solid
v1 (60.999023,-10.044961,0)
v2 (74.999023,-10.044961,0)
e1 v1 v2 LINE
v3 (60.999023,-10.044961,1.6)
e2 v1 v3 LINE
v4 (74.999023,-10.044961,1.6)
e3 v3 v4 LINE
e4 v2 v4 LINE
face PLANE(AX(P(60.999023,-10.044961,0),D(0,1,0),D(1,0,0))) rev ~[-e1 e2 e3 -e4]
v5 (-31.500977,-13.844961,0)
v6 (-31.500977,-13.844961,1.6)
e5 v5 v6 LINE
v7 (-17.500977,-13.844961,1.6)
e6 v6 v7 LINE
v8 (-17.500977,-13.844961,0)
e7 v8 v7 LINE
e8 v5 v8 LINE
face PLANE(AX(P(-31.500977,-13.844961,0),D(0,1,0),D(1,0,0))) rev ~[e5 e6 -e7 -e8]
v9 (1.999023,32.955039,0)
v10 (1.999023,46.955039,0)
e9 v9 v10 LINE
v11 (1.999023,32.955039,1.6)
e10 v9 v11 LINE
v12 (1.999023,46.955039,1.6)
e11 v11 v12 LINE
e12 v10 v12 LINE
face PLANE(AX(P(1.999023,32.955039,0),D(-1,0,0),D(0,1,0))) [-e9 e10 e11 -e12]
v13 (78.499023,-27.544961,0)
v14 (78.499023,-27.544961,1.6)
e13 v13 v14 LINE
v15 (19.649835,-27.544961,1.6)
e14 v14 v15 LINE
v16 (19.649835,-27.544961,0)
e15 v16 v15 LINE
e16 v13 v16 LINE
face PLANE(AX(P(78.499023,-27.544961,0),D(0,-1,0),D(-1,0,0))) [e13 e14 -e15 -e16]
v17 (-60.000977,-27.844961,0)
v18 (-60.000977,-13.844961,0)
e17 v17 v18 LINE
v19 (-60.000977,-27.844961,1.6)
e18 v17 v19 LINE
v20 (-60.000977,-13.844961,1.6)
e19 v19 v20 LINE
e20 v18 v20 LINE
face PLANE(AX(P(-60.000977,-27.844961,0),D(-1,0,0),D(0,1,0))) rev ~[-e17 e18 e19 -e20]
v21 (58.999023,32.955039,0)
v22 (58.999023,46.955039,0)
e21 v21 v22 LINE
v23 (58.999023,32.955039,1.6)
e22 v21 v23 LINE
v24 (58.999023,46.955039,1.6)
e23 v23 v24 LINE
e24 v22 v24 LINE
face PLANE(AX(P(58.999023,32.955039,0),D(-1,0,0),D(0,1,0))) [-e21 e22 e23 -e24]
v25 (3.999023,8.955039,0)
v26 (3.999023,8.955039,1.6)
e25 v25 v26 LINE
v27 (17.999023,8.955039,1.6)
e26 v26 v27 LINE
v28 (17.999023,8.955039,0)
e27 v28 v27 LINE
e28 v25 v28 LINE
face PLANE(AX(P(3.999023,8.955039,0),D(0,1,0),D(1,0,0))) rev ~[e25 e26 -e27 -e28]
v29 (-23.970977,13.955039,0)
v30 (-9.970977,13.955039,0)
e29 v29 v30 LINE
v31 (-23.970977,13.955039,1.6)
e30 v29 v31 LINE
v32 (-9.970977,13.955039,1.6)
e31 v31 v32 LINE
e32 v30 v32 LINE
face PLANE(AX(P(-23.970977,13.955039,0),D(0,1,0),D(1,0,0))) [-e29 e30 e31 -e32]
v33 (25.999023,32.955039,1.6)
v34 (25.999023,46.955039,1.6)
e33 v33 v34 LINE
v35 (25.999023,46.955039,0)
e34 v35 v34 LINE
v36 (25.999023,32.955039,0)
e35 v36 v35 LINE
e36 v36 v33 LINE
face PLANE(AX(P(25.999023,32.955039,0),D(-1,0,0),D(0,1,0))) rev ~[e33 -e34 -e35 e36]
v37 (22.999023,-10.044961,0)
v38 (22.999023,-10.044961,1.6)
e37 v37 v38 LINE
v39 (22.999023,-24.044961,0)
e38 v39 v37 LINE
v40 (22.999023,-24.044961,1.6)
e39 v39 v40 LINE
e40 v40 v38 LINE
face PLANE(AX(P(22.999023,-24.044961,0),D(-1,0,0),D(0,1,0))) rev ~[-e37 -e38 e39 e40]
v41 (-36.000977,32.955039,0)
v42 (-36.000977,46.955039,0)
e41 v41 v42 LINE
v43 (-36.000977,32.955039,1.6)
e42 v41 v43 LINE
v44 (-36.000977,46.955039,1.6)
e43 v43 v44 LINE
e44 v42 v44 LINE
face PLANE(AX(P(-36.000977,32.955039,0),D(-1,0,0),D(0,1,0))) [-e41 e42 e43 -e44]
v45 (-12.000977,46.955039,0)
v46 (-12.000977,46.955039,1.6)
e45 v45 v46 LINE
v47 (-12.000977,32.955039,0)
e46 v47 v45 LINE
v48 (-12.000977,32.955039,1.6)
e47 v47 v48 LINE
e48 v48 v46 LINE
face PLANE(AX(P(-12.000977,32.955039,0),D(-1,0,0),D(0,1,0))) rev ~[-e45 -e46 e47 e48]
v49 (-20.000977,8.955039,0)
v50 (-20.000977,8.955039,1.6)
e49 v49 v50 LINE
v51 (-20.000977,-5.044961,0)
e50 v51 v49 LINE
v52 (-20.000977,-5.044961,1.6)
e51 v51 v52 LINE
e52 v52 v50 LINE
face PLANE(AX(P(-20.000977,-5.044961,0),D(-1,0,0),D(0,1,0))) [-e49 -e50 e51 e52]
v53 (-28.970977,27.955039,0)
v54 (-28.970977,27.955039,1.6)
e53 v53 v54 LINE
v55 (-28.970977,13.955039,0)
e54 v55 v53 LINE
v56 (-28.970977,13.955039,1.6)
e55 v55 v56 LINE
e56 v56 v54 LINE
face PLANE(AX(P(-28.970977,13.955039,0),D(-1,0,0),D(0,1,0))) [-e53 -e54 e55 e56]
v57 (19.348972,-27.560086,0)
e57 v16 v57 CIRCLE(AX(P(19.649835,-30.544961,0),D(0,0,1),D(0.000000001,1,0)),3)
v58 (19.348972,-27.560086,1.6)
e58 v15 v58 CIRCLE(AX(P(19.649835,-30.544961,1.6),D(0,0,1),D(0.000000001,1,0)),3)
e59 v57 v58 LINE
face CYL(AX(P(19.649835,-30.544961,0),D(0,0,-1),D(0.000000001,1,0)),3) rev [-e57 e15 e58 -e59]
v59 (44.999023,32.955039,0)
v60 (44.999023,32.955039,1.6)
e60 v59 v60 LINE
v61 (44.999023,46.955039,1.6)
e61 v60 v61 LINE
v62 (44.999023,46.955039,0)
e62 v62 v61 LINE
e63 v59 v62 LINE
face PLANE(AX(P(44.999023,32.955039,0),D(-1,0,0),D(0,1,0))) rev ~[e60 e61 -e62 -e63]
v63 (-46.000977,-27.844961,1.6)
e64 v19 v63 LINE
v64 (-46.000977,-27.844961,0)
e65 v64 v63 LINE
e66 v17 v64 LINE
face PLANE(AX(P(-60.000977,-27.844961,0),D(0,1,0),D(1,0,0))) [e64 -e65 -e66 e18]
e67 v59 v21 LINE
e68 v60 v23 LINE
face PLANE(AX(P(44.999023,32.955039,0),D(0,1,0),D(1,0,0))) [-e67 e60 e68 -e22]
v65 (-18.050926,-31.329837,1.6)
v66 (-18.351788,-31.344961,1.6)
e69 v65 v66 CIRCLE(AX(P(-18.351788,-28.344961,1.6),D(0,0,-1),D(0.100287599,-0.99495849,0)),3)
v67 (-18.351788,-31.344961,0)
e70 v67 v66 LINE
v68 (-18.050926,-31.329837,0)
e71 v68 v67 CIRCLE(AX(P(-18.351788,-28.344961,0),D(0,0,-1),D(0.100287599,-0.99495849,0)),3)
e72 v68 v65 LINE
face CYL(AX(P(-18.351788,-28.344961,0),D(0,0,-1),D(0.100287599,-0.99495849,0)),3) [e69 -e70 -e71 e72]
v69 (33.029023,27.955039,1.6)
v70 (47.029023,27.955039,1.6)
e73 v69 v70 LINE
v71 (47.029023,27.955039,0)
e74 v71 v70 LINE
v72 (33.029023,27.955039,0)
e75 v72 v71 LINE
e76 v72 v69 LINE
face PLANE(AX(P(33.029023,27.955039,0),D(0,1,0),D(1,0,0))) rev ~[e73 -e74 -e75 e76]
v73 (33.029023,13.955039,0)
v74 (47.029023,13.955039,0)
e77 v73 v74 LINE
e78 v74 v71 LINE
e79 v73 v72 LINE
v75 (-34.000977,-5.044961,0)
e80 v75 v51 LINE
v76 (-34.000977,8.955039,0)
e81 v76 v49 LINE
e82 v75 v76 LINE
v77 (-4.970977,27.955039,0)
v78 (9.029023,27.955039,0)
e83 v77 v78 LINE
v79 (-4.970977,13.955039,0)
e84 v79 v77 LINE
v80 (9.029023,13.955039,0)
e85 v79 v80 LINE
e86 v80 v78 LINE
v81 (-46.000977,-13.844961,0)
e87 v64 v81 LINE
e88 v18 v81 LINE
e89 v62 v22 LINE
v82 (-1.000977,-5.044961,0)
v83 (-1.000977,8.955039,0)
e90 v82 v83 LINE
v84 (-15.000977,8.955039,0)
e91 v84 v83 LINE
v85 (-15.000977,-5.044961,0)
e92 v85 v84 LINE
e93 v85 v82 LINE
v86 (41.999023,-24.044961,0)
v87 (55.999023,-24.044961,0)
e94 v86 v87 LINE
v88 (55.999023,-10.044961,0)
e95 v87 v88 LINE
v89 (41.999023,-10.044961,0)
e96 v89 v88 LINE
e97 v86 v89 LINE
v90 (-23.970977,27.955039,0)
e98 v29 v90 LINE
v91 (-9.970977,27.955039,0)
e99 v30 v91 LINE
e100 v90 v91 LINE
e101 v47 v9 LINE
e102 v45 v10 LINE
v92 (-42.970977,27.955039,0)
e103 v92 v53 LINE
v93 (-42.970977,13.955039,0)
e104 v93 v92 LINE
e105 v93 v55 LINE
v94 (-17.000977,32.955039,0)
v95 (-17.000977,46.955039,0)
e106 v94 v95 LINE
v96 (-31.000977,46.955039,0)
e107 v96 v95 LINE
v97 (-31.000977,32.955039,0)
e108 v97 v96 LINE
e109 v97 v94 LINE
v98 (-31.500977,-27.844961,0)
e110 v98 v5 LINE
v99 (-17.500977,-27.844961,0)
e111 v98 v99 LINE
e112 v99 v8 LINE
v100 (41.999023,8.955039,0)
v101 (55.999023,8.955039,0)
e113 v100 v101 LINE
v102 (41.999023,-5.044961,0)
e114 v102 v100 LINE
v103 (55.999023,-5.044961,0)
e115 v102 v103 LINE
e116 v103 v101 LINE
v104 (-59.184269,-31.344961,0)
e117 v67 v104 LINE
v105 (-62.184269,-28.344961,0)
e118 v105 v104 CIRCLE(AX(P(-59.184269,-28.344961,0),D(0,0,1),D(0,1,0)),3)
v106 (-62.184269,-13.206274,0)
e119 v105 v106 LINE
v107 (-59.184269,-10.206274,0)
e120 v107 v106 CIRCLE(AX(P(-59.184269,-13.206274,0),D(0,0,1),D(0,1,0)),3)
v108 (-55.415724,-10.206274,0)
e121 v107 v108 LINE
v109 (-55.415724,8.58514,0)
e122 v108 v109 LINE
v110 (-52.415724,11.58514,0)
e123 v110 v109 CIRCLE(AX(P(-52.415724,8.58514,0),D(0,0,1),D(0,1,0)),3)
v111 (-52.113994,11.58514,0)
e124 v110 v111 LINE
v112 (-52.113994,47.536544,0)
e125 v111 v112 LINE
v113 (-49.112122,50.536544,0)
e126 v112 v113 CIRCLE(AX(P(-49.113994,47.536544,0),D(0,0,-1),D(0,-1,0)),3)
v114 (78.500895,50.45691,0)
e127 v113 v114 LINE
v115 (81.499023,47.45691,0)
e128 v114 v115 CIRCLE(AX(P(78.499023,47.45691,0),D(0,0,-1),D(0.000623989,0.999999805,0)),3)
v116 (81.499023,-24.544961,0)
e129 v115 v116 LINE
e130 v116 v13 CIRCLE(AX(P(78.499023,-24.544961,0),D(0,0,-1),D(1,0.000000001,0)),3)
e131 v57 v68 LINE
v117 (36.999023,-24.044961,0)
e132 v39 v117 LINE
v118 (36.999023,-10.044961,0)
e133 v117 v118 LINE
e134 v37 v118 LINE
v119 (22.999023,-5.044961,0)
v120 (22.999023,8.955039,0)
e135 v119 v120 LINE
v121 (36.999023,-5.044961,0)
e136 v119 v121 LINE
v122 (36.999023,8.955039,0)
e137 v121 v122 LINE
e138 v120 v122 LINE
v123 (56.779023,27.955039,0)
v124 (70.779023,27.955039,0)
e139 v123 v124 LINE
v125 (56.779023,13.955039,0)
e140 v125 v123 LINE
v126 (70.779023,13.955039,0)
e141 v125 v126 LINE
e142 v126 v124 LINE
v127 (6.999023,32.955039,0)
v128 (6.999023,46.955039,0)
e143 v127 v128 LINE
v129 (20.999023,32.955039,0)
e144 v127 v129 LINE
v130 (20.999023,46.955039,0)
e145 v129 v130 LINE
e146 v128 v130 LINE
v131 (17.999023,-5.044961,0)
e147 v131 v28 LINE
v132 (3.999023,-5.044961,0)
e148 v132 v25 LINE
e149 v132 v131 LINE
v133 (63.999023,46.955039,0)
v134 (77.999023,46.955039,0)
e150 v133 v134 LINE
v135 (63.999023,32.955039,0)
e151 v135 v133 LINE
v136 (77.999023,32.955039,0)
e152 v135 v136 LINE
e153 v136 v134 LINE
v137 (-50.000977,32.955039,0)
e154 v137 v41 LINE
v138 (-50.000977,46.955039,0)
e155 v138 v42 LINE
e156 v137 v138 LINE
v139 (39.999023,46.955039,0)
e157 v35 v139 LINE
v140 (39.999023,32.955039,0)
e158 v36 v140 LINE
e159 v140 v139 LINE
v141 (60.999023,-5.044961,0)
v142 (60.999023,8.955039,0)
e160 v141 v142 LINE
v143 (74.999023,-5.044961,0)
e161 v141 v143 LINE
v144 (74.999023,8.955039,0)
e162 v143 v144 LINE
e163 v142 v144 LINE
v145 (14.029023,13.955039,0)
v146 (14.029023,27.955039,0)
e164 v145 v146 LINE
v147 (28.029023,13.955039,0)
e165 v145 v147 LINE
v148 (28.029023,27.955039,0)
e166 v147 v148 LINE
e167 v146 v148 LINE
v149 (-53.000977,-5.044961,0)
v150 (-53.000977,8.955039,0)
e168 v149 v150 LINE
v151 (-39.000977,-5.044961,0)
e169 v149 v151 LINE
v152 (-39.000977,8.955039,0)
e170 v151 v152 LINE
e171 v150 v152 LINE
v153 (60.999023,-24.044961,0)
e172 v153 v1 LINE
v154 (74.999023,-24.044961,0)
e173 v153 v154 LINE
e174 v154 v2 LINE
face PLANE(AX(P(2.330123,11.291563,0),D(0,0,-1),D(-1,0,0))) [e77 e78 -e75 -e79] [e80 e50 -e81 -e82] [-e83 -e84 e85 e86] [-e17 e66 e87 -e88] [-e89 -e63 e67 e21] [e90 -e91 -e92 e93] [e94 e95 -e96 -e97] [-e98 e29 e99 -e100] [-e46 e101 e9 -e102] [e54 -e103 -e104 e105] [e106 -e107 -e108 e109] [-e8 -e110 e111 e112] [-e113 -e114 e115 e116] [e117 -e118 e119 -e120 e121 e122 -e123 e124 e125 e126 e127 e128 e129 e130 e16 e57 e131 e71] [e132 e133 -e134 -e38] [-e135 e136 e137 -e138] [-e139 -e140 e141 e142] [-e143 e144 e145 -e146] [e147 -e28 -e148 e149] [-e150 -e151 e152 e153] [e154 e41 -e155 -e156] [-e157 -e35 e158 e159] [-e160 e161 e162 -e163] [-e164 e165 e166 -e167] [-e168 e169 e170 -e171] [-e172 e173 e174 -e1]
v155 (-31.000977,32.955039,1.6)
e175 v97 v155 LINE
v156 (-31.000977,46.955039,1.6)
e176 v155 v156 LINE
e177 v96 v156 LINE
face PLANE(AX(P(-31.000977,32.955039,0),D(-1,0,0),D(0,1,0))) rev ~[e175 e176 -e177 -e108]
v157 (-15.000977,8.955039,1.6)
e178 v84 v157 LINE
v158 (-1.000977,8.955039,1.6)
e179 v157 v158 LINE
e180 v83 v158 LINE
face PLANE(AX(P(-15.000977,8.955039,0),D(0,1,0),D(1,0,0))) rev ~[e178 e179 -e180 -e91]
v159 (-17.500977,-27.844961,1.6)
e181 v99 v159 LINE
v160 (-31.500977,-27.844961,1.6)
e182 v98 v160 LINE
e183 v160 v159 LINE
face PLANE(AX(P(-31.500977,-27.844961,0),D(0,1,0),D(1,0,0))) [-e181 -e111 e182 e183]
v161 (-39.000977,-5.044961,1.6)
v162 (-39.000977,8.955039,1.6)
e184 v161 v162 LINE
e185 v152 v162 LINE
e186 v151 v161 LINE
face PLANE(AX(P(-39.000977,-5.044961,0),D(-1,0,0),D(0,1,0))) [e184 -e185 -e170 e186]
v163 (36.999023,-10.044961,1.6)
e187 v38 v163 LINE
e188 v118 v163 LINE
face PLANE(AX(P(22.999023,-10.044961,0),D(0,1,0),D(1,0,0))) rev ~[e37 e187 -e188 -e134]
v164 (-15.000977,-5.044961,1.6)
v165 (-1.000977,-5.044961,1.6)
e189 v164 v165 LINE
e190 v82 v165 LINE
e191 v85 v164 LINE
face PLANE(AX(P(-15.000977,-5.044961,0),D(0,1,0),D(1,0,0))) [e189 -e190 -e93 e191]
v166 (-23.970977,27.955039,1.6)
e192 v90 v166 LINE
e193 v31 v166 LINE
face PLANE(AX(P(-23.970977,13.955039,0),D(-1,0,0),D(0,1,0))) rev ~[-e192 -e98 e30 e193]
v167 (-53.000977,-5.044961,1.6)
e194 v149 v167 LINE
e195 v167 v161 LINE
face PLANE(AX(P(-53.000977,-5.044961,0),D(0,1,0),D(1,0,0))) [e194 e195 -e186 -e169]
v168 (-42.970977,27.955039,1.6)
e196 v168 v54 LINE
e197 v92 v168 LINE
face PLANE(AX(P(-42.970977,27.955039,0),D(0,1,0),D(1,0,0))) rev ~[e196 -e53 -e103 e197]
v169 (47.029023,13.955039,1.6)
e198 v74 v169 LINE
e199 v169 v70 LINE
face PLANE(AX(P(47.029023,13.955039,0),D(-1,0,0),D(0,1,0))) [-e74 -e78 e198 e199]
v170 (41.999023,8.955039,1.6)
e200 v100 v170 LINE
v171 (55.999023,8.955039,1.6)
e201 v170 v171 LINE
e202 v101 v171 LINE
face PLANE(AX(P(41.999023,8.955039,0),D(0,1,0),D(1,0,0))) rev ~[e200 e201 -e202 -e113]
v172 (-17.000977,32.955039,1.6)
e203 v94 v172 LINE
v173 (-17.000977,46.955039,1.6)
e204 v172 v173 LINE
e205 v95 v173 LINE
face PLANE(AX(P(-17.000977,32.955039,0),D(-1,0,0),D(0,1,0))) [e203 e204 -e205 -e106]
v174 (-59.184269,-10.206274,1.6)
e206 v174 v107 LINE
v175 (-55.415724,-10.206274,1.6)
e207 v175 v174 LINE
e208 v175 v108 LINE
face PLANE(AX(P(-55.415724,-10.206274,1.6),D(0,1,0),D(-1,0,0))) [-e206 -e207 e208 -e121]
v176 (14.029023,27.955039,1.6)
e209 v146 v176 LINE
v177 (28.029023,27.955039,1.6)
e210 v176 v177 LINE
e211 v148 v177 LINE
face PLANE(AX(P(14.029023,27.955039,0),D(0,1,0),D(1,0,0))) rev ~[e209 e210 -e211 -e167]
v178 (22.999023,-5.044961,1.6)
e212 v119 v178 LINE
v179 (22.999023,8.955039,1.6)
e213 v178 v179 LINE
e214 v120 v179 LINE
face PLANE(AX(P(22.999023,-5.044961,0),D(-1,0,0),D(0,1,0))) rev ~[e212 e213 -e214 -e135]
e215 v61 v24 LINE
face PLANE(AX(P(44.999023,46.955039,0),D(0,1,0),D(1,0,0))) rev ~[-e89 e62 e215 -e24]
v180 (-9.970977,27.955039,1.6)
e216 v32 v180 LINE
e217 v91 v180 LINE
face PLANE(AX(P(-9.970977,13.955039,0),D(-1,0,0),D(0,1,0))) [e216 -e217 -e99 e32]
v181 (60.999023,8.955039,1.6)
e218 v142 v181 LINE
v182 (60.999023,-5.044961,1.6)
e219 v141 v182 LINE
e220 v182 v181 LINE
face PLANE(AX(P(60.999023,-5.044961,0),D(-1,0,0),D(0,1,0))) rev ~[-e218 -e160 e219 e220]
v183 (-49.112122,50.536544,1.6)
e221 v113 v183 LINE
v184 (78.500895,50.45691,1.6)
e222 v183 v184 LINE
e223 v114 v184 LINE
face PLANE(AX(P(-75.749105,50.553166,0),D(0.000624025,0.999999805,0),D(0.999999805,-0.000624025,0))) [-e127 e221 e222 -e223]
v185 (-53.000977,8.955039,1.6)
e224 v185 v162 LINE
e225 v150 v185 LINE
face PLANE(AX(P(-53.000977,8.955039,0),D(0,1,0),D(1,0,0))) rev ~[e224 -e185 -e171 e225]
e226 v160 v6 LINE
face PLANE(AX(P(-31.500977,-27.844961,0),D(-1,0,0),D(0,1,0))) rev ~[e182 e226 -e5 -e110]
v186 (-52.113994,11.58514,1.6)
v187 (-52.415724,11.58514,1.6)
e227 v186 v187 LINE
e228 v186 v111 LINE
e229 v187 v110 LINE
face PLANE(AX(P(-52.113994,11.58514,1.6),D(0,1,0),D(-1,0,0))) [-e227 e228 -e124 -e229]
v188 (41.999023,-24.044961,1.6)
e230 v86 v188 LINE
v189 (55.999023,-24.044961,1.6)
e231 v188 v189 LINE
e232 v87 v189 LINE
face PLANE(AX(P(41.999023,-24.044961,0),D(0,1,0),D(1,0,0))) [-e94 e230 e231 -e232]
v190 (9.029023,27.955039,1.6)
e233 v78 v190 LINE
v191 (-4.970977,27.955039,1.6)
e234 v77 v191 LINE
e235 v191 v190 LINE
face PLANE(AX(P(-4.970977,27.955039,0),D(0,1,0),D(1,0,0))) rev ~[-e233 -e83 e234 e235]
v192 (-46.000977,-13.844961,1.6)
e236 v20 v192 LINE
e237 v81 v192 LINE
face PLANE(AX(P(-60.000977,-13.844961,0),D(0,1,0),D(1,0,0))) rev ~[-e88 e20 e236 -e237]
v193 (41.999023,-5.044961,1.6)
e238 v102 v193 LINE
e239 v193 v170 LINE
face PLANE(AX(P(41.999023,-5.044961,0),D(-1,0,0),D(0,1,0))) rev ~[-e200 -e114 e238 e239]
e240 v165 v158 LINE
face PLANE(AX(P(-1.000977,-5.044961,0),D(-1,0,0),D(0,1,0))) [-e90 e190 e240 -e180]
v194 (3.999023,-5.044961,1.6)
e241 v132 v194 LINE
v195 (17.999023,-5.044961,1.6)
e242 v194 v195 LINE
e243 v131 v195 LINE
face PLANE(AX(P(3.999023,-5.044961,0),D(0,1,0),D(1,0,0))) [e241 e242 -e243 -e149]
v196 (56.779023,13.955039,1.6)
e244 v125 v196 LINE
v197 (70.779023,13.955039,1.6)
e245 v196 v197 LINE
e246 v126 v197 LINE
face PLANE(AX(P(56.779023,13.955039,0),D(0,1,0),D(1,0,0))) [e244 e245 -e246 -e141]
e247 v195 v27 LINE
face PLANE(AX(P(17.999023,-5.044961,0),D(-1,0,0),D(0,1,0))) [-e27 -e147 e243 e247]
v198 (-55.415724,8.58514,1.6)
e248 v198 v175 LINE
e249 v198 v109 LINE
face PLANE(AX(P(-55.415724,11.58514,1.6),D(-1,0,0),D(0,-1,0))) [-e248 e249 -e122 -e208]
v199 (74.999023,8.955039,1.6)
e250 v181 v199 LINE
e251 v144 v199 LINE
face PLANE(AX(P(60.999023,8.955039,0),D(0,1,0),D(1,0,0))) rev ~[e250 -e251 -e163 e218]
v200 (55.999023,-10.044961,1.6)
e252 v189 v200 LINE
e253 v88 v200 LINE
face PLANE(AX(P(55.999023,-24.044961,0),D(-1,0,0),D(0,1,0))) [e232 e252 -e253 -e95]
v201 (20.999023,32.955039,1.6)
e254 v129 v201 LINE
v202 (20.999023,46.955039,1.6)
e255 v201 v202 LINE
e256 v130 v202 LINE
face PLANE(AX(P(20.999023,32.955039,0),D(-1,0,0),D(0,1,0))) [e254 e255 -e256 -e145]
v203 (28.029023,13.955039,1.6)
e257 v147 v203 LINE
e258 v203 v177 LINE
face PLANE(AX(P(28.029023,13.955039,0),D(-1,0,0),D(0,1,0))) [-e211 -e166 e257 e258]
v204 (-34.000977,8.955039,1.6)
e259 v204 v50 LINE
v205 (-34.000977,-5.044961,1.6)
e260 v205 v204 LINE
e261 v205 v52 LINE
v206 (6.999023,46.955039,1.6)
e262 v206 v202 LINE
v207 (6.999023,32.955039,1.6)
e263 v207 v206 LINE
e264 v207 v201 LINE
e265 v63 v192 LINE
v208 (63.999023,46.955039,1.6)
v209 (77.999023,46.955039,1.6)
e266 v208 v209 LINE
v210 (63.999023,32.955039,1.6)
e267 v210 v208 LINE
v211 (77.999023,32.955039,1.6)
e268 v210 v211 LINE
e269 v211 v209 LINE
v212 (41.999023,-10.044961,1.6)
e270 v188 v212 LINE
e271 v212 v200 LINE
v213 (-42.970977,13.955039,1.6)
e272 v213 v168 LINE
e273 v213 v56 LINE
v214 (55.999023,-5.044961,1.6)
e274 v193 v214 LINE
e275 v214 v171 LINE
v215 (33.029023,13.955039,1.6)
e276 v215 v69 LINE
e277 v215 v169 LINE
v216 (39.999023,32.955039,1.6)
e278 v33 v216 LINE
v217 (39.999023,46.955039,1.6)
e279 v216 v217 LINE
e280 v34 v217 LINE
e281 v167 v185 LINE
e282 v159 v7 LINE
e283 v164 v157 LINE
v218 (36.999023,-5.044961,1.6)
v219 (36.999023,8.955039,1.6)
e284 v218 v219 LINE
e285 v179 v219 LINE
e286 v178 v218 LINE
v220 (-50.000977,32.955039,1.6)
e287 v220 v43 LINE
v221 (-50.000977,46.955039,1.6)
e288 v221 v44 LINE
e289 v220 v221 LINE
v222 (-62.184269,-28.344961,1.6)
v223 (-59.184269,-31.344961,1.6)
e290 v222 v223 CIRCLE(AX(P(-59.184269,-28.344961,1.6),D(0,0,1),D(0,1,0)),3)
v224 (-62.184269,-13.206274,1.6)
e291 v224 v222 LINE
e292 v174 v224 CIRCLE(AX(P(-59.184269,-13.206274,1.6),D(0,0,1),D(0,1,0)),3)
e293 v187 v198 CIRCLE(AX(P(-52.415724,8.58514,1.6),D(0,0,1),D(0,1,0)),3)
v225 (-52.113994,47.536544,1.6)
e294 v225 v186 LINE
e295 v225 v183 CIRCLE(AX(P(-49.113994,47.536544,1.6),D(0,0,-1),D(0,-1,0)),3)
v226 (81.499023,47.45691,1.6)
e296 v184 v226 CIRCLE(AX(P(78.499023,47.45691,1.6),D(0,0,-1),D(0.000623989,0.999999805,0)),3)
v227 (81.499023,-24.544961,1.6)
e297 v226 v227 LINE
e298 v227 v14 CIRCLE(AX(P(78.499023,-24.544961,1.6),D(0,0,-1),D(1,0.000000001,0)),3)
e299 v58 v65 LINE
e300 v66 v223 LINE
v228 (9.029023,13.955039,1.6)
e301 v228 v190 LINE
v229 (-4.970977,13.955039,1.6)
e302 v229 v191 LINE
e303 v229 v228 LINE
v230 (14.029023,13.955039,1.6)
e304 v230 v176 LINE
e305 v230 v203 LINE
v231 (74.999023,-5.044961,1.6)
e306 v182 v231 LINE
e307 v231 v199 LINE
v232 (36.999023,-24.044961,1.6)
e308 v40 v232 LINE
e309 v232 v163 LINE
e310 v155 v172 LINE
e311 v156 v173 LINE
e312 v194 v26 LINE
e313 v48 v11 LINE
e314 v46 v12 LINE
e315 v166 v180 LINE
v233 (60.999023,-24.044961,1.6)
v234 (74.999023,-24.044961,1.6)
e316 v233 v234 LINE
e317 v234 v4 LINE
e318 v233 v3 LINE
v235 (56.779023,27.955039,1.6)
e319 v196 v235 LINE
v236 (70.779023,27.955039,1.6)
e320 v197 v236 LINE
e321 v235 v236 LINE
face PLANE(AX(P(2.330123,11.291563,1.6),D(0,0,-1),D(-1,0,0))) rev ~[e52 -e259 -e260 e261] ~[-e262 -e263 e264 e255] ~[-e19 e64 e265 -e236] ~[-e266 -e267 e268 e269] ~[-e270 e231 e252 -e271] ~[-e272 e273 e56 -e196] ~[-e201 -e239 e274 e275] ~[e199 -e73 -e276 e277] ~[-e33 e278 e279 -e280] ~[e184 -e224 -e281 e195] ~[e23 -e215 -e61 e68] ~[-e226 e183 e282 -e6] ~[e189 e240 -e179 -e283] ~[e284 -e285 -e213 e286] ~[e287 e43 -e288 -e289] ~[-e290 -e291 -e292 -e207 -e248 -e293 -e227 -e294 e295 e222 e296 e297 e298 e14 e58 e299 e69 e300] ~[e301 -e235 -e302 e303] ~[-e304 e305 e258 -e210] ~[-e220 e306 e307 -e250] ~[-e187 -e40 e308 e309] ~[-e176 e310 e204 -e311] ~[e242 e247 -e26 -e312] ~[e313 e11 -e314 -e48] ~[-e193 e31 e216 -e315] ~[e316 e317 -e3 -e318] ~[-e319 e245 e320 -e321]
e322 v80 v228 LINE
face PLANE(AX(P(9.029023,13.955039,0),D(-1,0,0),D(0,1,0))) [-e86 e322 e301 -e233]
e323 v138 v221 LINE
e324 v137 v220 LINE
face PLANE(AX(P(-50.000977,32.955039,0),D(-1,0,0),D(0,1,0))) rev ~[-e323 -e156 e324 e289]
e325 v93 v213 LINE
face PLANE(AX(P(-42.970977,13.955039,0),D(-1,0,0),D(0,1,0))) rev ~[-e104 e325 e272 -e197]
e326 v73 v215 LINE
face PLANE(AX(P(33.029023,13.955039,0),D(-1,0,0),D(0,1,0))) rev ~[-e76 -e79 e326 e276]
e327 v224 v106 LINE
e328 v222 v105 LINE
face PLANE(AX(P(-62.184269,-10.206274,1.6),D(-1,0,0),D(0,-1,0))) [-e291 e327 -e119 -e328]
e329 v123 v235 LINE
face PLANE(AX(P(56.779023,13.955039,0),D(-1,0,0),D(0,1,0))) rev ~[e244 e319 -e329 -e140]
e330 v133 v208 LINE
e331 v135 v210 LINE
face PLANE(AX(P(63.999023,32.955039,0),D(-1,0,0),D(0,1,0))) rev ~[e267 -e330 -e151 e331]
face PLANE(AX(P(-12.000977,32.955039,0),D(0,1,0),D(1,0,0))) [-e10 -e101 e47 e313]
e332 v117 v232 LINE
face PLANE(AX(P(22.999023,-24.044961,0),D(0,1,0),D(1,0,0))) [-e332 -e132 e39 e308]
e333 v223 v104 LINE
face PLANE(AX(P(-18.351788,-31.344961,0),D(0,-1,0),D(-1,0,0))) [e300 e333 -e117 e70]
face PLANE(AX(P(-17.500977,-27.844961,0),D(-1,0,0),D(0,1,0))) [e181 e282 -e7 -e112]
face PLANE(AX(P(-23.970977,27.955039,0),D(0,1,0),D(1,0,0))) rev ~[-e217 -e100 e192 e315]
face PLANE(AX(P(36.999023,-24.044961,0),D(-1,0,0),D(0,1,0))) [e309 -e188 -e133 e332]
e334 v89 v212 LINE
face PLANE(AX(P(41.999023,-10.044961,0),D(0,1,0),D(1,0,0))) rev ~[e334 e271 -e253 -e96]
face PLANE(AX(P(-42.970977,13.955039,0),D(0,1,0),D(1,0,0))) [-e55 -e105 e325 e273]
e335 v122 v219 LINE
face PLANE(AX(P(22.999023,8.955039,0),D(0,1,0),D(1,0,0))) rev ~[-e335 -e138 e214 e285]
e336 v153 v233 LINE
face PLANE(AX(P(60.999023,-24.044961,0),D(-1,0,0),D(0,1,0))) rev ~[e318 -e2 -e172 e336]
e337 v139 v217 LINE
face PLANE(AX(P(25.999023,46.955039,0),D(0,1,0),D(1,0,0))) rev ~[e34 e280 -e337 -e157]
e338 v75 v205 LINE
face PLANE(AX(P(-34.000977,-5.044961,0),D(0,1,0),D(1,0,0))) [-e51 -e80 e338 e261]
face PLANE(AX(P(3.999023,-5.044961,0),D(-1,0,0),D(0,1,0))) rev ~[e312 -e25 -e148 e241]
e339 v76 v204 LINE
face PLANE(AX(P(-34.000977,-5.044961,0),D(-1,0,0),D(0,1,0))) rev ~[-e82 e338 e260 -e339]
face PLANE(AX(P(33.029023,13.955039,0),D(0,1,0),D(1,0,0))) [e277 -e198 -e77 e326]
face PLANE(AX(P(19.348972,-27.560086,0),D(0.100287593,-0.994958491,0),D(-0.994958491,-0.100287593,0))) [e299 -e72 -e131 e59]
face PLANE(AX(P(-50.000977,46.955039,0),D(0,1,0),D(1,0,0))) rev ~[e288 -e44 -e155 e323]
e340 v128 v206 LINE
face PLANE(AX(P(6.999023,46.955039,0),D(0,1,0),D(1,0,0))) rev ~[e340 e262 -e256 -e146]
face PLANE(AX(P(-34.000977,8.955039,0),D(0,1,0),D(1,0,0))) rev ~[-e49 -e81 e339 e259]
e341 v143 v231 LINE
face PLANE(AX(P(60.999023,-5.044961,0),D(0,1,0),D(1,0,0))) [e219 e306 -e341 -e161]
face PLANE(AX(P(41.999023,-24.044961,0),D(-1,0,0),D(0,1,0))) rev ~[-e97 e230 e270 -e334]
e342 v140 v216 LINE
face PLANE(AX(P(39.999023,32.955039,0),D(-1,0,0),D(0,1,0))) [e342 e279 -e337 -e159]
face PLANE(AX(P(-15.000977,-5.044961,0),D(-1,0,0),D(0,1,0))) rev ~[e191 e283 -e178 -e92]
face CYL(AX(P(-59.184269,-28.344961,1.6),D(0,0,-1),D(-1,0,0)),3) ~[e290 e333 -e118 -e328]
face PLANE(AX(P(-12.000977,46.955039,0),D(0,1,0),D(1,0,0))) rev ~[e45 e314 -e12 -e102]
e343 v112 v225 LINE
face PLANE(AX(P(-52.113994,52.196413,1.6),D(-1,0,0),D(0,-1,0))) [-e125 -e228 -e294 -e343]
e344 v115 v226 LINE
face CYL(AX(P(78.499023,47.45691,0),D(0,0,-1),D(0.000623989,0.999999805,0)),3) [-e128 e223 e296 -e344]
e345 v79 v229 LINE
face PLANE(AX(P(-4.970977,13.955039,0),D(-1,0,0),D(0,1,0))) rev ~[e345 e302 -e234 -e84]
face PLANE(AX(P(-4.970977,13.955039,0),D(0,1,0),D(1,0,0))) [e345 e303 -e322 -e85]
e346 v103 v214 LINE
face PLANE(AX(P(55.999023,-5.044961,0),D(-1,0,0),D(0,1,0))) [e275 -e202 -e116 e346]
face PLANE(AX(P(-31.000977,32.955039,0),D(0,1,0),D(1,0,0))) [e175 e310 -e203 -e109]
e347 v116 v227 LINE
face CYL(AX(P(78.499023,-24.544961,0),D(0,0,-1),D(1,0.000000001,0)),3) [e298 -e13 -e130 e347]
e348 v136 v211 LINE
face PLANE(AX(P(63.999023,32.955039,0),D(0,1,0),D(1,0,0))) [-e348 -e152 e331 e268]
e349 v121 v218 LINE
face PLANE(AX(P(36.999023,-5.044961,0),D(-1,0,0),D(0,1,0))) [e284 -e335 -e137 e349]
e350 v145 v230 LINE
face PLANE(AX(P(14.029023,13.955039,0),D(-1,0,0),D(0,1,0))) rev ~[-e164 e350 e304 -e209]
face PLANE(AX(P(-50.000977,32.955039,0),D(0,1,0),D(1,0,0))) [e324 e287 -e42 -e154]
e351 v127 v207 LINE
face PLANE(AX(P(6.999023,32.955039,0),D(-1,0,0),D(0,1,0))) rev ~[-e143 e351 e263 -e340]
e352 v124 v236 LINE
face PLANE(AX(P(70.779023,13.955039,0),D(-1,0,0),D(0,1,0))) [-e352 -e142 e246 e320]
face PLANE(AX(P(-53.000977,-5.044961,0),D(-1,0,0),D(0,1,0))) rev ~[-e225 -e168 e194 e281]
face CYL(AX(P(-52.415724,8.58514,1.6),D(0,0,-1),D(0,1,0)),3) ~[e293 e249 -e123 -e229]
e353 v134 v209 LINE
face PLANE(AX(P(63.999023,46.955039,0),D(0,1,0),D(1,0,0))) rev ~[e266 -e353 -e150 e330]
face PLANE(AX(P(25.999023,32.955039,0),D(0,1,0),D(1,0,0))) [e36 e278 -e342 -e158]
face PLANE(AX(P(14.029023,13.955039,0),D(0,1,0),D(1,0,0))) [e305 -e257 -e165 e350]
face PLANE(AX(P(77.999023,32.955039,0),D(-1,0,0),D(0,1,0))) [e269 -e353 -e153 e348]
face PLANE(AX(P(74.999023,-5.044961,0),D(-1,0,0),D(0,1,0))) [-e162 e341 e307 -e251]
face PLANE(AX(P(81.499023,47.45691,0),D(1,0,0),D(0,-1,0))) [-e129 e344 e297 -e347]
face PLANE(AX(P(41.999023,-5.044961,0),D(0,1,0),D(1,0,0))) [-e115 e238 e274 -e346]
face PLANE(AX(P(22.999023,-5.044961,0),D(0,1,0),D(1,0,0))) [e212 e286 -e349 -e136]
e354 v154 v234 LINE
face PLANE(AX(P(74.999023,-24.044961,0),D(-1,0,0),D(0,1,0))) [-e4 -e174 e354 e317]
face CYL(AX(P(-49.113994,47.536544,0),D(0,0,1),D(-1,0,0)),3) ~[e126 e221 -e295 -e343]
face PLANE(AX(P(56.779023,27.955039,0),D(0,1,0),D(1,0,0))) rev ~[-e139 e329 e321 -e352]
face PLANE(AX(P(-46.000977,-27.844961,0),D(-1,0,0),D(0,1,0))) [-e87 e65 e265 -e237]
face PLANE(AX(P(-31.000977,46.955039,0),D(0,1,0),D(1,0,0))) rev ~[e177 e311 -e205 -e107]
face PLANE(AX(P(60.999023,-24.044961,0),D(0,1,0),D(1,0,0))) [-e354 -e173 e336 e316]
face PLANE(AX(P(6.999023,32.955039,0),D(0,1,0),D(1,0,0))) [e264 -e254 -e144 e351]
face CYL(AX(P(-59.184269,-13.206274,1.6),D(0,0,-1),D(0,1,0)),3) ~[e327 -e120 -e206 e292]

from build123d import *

# Parameters (mm, degrees)
SKETCH1_W           = 14
SKETCH1_H           = 14
BOSS_EXTRUDE1_DEPTH = 1.6
CUT_EXTRUDE1_DEPTH  = 96.918055802
FILLET1_R           = 3


with BuildPart() as part:
    # Sketch1 → Boss-Extrude1 (new body)
    with BuildSketch(Plane.XY):
        with BuildLine():
            Line((-78.750976664, 0.641871894), (-78.750976664, 47.553166294))
            ThreePointArc((-78.750976664, 47.553166294), (-77.871635054, 49.67514838), (-75.749104672, 50.553165702))
            Line((-75.749104672, 50.553165702), (78.500895328, 50.456909802))
            ThreePointArc((78.500895328, 50.456909802), (80.621005422, 49.577568802), (81.499023352, 47.456910433))
            Line((81.499023352, 47.456910433), (81.499023352, -24.544961067))
            ThreePointArc((81.499023352, -24.544961067), (80.620343696, -26.666281411), (78.499023352, -27.544961067))
            Line((78.499023352, -27.544961067), (19.649835152, -27.544961067))
            ThreePointArc((19.649835152, -27.544961067), (19.499213793, -27.548744585), (19.348972354, -27.560085596))
            Line((19.348972354, -27.560085596), (-18.050925646, -31.329836596))
            ThreePointArc((-18.050925646, -31.329836596), (-18.201167086, -31.341177607), (-18.351788445, -31.344961125))
            Line((-18.351788445, -31.344961125), (-66.088698945, -31.344961125))
            ThreePointArc((-66.088698945, -31.344961125), (-67.842829771, -30.778687705), (-68.934748827, -29.2936445))
            Line((-68.934748827, -29.2936445), (-78.597026527, -0.3068115))
            ThreePointArc((-78.597026527, -0.3068115), (-78.712239029, 0.161325115), (-78.750976664, 0.641871894))
        make_face()
        with Locations((67.999023336, -17.044961106)):
            Rectangle(SKETCH1_W, SKETCH1_H, mode=Mode.SUBTRACT)
        with Locations((-46.000976664, 1.955038894)):
            Rectangle(SKETCH1_W, SKETCH1_H, mode=Mode.SUBTRACT)
        with Locations((-43.000976664, 39.955038894)):
            Rectangle(SKETCH1_W, SKETCH1_H, mode=Mode.SUBTRACT)
        with Locations((-24.000976664, 39.955038894)):
            Rectangle(SKETCH1_W, SKETCH1_H, mode=Mode.SUBTRACT)
        with Locations((-5.000976664, 39.955038894)):
            Rectangle(SKETCH1_W, SKETCH1_H, mode=Mode.SUBTRACT)
        with Locations((13.999023336, 39.955038894)):
            Rectangle(SKETCH1_W, SKETCH1_H, mode=Mode.SUBTRACT)
        with Locations((32.999023336, 39.955038894)):
            Rectangle(SKETCH1_W, SKETCH1_H, mode=Mode.SUBTRACT)
        with Locations((51.999023336, 39.955038894)):
            Rectangle(SKETCH1_W, SKETCH1_H, mode=Mode.SUBTRACT)
        with Locations((70.999023336, 39.955038894)):
            Rectangle(SKETCH1_W, SKETCH1_H, mode=Mode.SUBTRACT)
        with Locations((-35.970976664, 20.955038894)):
            Rectangle(SKETCH1_W, SKETCH1_H, mode=Mode.SUBTRACT)
        with Locations((-16.970976664, 20.955038894)):
            Rectangle(SKETCH1_W, SKETCH1_H, mode=Mode.SUBTRACT)
        with Locations((2.029023336, 20.955038894)):
            Rectangle(SKETCH1_W, SKETCH1_H, mode=Mode.SUBTRACT)
        with Locations((21.029023336, 20.955038894)):
            Rectangle(SKETCH1_W, SKETCH1_H, mode=Mode.SUBTRACT)
        with Locations((40.029023336, 20.955038894)):
            Rectangle(SKETCH1_W, SKETCH1_H, mode=Mode.SUBTRACT)
        with Locations((63.779023336, 20.955038894)):
            Rectangle(SKETCH1_W, SKETCH1_H, mode=Mode.SUBTRACT)
        with Locations((-27.000976664, 1.955038894)):
            Rectangle(SKETCH1_W, SKETCH1_H, mode=Mode.SUBTRACT)
        with Locations((-8.000976664, 1.955038894)):
            Rectangle(SKETCH1_W, SKETCH1_H, mode=Mode.SUBTRACT)
        with Locations((10.999023336, 1.955038894)):
            Rectangle(SKETCH1_W, SKETCH1_H, mode=Mode.SUBTRACT)
        with Locations((29.999023336, 1.955038894)):
            Rectangle(SKETCH1_W, SKETCH1_H, mode=Mode.SUBTRACT)
        with Locations((48.999023336, 1.955038894)):
            Rectangle(SKETCH1_W, SKETCH1_H, mode=Mode.SUBTRACT)
        with Locations((67.999023336, 1.955038894)):
            Rectangle(SKETCH1_W, SKETCH1_H, mode=Mode.SUBTRACT)
        with Locations((29.999023336, -17.044961106)):
            Rectangle(SKETCH1_W, SKETCH1_H, mode=Mode.SUBTRACT)
        with Locations((48.999023336, -17.044961106)):
            Rectangle(SKETCH1_W, SKETCH1_H, mode=Mode.SUBTRACT)
        with Locations((-53.000976664, -20.844961106)):
            Rectangle(SKETCH1_W, SKETCH1_H, mode=Mode.SUBTRACT)
        with Locations((-24.500976664, -20.844961106)):
            Rectangle(SKETCH1_W, SKETCH1_H, mode=Mode.SUBTRACT)
    extrude(amount=BOSS_EXTRUDE1_DEPTH)

    # Sketch2 → Cut-Extrude1 (cut, through all)
    with BuildSketch(Plane.XY.offset(1.6)):
        Polygon((-52.113994262, 52.196412896), (-52.113994262, 11.585140269), (-55.415723743, 11.585140269), (-55.415723743, -10.206274311), (-62.184269181, -10.206274311), (-62.184269181, -38.601147855), (-84.470943183, -34.143813054), (-95.201563999, 49.885202259), (-53.764859002, 58.304612437), align=None)
    extrude(amount=-CUT_EXTRUDE1_DEPTH, mode=Mode.SUBTRACT)

    # Fillet1
    fillet1_edges = [part.edges().sort_by_distance(p)[0] for p in [
        (-52.113994262, 50.538416795, 0.8),
        (-62.184269181, -31.344961125, 0.8),
        (-62.184269181, -10.206274311, 0.8),
        (-55.415723743, 11.585140269, 0.8),
    ]]
    fillet(fillet1_edges, radius=FILLET1_R)


solid = part.part
